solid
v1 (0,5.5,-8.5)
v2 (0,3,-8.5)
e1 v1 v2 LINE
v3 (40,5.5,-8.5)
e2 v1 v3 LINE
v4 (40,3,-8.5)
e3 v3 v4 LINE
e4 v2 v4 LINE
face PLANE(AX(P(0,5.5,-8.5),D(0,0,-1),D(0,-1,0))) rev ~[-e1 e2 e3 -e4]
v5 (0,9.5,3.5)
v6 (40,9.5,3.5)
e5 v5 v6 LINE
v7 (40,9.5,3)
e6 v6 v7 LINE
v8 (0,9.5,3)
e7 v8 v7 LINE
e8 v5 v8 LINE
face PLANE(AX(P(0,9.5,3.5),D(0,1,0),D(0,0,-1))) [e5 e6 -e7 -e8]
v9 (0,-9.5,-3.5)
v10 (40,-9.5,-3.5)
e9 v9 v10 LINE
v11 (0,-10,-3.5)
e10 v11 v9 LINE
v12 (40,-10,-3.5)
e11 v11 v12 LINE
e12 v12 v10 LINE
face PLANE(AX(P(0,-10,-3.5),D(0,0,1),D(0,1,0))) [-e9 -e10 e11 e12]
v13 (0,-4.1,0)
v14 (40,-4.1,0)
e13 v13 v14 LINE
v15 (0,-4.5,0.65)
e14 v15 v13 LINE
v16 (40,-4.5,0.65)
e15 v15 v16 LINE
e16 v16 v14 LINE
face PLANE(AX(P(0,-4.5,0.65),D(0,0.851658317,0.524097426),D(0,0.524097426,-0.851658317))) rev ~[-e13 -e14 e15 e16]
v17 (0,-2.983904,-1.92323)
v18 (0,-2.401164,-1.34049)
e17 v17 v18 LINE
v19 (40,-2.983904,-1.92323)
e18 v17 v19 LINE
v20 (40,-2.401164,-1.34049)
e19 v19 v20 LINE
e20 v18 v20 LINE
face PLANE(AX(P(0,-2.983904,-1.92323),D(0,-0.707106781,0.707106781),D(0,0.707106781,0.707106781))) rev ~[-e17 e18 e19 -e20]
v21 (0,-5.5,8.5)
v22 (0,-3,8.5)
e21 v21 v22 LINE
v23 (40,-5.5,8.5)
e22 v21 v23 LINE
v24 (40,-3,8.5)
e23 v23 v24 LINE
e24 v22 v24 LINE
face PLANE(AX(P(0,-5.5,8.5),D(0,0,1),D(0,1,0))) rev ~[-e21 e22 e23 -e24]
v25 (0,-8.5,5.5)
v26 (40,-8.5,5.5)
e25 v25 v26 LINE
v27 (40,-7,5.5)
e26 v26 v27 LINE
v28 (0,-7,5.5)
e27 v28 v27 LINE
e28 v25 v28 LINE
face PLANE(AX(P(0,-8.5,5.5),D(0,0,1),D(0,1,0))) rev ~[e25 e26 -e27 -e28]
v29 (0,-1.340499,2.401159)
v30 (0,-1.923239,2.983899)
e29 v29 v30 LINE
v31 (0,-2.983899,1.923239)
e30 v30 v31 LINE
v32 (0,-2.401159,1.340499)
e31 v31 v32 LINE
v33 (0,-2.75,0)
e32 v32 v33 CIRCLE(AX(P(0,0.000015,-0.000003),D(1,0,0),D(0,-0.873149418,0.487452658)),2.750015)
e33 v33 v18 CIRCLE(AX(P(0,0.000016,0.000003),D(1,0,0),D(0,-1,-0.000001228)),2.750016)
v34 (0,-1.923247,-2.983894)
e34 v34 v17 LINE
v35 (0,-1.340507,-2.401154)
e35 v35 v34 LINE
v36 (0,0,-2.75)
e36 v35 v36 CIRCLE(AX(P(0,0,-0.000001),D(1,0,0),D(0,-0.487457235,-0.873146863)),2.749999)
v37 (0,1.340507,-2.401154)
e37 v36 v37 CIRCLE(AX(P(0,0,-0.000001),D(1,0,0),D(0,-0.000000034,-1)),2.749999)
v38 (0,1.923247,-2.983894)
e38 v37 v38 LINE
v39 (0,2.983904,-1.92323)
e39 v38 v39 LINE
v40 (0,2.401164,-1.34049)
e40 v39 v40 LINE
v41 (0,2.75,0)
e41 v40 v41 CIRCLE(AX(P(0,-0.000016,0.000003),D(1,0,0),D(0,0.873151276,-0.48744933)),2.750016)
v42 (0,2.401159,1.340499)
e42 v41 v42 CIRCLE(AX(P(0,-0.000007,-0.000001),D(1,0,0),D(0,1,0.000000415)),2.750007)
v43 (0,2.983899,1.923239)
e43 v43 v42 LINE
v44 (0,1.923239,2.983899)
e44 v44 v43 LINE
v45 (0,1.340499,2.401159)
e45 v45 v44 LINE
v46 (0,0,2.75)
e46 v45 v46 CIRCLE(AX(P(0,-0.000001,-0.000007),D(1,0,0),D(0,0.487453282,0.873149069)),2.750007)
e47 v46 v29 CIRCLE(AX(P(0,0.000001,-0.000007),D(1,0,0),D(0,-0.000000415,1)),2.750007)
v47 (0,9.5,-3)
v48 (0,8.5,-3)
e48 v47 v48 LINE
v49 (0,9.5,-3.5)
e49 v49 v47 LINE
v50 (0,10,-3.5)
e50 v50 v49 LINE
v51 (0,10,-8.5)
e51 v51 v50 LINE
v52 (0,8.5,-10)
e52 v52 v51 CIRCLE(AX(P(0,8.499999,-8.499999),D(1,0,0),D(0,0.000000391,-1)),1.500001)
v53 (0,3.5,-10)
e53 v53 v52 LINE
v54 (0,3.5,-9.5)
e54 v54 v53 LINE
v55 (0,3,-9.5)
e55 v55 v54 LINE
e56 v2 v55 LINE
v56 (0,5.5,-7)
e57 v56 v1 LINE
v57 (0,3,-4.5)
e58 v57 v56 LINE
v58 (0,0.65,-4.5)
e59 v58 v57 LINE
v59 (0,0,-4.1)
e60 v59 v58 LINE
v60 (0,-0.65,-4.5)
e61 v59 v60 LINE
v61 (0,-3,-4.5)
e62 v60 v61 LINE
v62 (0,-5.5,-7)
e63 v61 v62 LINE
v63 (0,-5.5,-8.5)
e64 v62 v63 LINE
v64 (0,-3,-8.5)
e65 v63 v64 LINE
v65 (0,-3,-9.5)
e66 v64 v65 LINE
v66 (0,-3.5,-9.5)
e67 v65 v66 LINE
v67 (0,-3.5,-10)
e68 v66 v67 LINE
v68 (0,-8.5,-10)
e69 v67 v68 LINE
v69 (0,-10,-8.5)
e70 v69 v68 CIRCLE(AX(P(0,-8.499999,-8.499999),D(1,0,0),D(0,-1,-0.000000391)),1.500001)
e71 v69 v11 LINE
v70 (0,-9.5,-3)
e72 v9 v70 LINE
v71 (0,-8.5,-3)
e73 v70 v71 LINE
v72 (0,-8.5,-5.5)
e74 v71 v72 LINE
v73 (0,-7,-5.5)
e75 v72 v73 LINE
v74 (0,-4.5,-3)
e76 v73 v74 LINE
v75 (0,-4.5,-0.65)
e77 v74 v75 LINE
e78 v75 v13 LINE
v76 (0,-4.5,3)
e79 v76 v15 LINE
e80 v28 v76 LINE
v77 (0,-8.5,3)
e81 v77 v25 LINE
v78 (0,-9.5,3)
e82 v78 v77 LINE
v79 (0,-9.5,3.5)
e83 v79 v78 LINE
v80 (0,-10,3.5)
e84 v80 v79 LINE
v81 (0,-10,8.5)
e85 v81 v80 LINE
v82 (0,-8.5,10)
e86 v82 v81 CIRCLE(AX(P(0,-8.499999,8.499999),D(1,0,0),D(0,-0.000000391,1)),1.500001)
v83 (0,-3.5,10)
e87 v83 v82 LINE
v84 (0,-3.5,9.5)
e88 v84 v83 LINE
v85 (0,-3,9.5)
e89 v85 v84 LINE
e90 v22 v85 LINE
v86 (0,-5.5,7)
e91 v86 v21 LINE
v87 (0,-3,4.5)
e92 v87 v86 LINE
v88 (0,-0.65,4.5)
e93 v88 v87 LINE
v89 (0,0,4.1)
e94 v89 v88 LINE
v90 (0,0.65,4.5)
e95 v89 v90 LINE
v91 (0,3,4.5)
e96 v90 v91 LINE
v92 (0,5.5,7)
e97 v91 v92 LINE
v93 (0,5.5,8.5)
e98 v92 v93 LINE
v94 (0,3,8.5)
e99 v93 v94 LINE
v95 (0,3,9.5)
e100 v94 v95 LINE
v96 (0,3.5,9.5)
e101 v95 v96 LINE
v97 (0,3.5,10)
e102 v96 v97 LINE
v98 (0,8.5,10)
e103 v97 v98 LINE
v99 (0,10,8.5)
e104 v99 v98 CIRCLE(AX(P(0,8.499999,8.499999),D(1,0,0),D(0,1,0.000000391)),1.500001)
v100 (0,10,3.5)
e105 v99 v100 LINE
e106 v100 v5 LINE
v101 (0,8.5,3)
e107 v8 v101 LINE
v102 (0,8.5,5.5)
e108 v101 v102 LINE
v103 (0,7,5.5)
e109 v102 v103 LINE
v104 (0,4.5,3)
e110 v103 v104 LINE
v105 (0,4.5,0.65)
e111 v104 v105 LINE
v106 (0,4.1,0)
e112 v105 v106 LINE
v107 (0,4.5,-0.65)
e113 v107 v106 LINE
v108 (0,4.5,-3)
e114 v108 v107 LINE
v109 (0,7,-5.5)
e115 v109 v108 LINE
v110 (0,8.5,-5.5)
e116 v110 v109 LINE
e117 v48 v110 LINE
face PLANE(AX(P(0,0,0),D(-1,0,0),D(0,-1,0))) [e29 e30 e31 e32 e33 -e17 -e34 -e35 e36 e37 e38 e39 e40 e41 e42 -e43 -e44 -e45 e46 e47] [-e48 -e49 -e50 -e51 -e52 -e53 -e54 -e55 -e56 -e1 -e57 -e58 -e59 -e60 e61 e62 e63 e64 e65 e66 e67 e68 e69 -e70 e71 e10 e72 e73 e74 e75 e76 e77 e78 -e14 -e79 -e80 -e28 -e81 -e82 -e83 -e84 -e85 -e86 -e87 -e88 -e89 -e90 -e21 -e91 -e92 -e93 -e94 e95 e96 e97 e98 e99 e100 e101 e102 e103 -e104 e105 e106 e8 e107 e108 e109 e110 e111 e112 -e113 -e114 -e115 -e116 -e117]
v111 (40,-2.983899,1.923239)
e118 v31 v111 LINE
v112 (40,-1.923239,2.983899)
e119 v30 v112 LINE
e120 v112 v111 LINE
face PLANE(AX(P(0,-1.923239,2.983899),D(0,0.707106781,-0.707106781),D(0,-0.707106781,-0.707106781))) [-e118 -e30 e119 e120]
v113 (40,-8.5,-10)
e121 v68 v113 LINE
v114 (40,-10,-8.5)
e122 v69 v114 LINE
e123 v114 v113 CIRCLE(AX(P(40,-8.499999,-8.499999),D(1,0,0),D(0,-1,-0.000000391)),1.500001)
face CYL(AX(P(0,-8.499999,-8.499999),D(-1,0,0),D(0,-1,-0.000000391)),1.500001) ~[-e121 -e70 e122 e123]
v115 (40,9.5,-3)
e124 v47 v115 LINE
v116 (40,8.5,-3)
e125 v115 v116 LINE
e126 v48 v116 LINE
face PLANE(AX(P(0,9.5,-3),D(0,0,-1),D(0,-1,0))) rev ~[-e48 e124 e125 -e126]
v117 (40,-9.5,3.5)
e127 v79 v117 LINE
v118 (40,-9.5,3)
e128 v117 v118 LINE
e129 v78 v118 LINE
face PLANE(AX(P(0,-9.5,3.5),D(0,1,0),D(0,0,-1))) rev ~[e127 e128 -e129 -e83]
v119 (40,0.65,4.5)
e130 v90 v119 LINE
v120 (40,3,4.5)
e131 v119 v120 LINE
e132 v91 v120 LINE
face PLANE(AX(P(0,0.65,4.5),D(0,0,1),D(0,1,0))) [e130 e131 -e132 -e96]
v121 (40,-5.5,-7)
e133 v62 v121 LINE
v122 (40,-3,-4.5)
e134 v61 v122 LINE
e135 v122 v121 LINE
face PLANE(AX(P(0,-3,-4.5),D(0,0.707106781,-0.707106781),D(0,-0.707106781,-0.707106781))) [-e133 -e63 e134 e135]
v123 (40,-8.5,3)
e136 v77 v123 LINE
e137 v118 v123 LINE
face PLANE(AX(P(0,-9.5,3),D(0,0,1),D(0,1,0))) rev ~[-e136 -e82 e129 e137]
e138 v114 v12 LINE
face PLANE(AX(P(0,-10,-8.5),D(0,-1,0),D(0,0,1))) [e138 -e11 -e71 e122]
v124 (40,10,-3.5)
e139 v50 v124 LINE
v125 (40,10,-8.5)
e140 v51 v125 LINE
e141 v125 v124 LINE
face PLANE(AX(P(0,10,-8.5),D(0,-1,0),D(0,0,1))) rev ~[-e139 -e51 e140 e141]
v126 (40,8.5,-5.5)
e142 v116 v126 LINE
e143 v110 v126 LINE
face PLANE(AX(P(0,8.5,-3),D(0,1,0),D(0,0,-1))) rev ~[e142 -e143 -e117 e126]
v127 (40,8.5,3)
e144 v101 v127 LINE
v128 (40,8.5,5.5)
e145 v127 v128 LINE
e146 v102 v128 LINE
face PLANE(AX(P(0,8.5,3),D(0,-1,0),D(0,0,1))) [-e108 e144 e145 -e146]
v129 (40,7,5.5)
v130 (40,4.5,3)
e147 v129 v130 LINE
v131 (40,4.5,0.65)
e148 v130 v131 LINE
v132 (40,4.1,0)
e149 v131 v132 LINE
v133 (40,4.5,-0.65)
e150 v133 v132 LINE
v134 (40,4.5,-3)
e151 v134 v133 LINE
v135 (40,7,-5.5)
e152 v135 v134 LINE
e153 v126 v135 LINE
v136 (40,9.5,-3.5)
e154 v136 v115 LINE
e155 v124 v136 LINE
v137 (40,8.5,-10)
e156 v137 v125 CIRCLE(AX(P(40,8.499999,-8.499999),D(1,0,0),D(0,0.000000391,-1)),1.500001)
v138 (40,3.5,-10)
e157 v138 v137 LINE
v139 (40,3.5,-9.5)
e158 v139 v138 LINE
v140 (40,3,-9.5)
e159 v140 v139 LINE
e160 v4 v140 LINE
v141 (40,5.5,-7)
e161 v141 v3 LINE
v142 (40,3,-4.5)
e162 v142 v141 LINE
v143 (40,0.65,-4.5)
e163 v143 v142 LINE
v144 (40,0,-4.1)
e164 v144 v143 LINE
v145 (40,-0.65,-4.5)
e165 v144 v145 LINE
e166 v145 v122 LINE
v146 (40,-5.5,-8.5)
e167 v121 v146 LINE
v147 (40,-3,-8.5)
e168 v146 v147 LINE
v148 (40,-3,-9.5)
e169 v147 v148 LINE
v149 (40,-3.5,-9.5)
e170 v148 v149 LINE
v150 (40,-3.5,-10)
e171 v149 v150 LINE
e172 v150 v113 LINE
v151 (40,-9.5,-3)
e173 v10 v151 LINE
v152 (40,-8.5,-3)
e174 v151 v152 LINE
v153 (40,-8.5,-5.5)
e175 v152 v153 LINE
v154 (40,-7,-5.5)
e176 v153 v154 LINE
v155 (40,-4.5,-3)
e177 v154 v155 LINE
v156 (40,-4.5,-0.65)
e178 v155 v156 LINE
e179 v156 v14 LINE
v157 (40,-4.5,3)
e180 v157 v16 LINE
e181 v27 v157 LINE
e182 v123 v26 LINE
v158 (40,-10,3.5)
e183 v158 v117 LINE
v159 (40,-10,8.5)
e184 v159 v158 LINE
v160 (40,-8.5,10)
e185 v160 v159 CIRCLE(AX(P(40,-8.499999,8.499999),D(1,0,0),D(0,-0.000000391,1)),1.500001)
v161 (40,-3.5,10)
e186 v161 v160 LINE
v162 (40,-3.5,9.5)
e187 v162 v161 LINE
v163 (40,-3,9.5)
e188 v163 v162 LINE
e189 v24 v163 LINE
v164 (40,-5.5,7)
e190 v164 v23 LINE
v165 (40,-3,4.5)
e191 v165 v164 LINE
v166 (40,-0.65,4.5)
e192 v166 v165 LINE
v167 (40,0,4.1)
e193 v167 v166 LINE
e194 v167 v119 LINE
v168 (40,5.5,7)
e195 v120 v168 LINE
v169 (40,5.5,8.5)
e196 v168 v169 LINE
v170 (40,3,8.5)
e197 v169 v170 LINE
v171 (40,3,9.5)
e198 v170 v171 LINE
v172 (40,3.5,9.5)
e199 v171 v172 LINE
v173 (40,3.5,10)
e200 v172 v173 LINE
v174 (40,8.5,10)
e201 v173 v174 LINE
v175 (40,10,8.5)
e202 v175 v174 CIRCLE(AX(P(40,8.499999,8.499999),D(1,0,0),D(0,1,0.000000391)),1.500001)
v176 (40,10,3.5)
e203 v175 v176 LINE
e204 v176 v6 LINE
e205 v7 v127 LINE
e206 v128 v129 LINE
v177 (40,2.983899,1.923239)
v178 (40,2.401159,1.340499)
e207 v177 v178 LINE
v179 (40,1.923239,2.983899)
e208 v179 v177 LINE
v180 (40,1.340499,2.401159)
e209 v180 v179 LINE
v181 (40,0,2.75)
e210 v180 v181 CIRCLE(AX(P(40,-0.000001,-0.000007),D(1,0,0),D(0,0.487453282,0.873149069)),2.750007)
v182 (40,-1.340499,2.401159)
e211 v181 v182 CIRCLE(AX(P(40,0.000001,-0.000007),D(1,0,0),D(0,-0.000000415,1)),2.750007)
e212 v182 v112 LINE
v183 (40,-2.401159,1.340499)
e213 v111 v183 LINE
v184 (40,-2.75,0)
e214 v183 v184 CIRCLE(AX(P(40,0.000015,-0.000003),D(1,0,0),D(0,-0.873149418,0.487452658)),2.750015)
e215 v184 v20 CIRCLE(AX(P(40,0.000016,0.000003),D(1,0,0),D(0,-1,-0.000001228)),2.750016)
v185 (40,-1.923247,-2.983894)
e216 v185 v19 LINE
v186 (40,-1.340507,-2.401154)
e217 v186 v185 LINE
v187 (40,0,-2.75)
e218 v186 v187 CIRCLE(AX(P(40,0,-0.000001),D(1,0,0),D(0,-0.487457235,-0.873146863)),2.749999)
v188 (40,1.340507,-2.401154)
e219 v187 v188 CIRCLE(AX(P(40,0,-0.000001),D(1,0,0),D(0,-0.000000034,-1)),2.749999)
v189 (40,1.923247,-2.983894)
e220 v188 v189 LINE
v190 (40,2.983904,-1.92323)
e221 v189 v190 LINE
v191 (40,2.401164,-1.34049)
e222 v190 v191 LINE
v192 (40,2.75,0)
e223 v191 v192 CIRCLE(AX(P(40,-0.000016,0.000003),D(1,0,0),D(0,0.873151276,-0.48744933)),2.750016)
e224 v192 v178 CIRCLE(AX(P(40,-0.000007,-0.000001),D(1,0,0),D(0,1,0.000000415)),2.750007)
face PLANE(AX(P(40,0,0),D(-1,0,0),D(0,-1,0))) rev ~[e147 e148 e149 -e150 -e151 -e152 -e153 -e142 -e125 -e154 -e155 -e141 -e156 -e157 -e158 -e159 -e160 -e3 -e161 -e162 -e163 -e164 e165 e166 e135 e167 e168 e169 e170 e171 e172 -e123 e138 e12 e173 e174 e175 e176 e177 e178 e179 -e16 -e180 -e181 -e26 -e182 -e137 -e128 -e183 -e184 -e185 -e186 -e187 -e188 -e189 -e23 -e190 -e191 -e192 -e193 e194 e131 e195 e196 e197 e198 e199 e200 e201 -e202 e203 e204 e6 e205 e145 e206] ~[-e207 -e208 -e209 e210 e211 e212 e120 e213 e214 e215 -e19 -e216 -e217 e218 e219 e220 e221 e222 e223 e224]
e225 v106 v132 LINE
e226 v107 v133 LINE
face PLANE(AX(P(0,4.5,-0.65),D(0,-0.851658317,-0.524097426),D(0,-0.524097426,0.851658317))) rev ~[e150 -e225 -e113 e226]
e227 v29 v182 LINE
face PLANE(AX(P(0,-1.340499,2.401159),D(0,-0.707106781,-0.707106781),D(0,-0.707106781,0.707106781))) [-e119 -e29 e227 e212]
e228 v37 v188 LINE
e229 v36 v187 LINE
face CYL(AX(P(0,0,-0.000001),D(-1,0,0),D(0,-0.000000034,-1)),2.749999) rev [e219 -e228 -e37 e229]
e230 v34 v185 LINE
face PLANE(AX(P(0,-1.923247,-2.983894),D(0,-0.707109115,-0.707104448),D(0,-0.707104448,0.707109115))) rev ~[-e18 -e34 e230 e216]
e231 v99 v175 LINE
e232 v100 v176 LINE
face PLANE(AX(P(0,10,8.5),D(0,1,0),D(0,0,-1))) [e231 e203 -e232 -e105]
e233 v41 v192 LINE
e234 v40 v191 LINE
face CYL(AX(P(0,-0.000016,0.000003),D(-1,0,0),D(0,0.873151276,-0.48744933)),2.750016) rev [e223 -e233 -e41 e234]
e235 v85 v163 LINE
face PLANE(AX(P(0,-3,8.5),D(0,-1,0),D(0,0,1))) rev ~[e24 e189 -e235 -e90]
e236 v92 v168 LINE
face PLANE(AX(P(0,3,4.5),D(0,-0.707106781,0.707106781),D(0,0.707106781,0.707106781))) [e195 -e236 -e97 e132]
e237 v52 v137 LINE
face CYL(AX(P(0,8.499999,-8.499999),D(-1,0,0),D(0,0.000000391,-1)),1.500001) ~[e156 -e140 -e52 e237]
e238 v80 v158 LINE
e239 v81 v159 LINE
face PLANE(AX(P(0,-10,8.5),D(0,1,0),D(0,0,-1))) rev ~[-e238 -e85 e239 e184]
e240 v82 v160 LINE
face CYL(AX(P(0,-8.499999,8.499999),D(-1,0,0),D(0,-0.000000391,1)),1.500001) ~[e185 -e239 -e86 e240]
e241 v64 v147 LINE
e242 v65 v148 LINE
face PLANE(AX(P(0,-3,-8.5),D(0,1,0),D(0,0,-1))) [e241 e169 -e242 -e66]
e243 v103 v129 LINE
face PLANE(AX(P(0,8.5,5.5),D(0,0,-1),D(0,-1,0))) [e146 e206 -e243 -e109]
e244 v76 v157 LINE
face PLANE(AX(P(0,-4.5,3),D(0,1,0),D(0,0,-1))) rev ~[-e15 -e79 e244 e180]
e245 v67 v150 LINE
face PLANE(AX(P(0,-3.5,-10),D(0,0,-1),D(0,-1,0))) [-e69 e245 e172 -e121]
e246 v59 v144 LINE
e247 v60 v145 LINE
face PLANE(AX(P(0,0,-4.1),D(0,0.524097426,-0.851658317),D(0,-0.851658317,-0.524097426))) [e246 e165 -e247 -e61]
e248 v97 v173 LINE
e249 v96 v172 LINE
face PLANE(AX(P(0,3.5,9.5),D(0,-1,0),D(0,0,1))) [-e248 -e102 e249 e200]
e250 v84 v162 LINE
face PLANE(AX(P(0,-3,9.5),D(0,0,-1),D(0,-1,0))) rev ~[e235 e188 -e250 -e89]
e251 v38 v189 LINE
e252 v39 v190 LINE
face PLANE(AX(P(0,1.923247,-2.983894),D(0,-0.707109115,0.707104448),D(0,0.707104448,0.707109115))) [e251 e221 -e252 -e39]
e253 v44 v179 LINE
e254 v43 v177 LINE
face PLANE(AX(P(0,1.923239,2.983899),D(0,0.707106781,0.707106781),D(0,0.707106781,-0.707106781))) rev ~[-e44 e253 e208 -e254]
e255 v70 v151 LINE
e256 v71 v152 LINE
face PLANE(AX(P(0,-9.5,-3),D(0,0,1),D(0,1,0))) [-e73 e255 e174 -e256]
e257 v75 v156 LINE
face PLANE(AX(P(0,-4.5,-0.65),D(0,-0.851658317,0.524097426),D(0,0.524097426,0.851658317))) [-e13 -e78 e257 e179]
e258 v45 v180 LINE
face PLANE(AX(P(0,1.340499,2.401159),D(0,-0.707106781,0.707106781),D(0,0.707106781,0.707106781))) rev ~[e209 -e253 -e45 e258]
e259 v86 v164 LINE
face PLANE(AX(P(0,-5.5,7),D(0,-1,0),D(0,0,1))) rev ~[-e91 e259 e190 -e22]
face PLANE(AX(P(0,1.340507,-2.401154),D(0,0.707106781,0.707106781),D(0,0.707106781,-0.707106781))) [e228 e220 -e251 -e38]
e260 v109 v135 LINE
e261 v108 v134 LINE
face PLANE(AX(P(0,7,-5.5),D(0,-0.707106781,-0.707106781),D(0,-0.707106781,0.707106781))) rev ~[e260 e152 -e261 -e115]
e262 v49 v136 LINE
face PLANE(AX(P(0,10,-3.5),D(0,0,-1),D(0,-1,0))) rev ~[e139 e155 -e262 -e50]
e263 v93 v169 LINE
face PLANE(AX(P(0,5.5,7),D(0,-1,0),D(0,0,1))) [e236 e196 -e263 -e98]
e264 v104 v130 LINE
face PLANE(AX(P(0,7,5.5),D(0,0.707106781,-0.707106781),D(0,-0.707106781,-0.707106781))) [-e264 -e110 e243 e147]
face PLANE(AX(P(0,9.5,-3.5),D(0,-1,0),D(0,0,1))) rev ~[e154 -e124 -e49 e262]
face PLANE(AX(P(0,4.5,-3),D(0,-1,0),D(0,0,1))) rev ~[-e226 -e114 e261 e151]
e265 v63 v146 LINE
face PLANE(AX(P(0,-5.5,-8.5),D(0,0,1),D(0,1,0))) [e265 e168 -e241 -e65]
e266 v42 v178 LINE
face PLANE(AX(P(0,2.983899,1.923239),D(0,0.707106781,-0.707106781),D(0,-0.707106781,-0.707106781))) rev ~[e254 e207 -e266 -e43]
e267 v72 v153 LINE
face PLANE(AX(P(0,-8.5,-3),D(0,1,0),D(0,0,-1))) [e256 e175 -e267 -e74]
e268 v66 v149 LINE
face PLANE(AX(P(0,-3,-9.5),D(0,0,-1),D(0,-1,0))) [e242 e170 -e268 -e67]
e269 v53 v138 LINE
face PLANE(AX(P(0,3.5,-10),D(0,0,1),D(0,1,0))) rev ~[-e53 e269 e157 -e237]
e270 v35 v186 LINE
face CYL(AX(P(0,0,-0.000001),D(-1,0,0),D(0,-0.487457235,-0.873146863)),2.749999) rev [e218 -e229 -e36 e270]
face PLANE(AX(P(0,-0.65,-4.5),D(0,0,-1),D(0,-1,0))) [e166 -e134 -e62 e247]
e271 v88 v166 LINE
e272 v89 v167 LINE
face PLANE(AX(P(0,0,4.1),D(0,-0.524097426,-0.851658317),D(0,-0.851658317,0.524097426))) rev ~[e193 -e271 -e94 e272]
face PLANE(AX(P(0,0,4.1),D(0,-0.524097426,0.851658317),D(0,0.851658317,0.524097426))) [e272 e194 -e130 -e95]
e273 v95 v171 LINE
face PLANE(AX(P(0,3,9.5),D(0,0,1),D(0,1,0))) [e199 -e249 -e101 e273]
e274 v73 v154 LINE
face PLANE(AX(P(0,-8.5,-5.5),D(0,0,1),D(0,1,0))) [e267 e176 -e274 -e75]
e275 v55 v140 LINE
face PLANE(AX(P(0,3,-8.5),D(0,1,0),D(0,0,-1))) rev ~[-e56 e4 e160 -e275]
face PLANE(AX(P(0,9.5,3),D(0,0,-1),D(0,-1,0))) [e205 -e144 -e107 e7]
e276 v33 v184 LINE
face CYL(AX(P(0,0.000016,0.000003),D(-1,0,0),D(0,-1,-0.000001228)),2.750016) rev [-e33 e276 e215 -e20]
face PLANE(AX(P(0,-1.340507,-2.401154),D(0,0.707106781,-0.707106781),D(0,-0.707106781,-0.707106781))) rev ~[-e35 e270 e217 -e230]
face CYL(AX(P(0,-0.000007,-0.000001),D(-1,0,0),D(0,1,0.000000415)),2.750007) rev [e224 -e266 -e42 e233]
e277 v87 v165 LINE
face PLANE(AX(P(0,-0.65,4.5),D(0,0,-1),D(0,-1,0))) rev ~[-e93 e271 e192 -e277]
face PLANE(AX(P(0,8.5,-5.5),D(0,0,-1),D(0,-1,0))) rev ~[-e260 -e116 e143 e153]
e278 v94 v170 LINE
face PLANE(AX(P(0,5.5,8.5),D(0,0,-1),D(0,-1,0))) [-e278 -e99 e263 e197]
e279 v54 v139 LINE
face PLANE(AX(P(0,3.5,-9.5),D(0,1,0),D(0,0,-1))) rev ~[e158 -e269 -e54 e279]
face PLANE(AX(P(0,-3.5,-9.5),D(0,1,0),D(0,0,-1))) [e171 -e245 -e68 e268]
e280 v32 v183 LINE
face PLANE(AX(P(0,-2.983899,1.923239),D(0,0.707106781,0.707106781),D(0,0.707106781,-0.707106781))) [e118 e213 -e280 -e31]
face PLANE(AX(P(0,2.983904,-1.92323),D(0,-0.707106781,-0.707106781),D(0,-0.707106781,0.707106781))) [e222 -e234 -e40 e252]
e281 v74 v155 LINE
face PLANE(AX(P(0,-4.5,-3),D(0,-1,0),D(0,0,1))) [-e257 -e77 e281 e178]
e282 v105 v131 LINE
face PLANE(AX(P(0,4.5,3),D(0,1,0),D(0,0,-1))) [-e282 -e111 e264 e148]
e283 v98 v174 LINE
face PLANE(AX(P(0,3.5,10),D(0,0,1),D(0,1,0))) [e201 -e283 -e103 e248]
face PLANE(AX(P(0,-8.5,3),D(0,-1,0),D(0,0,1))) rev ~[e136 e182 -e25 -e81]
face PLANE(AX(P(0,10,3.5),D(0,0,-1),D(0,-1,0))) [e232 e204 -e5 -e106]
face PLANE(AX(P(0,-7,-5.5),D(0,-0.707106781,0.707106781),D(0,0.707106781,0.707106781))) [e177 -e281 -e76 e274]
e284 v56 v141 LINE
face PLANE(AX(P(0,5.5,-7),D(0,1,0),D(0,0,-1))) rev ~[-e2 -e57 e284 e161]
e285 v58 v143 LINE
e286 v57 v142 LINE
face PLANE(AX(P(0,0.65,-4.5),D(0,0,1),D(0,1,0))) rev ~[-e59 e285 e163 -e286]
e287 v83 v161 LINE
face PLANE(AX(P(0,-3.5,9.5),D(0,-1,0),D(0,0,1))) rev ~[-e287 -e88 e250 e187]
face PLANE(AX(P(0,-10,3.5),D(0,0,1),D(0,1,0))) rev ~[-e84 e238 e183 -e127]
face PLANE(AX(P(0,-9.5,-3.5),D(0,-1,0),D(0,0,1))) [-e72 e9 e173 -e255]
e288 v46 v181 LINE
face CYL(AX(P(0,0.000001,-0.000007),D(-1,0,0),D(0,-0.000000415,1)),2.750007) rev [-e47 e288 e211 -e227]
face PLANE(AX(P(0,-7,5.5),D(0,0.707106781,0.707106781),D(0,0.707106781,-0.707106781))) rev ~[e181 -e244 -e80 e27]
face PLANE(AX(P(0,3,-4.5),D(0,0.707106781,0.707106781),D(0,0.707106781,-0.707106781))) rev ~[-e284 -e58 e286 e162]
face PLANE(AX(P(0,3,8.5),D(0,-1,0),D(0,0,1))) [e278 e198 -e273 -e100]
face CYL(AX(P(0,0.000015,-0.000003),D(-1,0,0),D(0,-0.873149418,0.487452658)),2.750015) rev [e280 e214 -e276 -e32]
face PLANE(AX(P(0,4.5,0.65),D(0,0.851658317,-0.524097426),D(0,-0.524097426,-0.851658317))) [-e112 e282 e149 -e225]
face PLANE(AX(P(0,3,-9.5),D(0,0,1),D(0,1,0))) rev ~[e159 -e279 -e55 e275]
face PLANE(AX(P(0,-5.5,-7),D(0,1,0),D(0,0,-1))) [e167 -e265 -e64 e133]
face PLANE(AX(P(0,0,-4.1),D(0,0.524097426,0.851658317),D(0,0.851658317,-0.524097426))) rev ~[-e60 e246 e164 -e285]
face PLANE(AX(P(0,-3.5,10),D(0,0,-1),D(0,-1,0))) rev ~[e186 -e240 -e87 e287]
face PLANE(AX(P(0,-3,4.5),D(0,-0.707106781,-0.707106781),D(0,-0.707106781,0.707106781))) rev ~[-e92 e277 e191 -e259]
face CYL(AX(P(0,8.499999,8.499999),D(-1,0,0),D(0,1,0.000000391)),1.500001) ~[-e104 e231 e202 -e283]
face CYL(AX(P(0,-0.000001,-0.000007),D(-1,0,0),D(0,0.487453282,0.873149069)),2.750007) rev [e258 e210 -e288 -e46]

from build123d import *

# Parameters (mm, degrees)
PAD_DEPTH = 40


with BuildPart() as part:
    # Sketch → Pad (new body)
    with BuildSketch(Plane.YZ):
        with BuildLine():
            Line((0, 4.1), (0.65, 4.5))
            Line((0.65, 4.5), (3, 4.5))
            Line((3, 4.5), (5.5, 7))
            Line((5.5, 7), (5.5, 8.5))
            Line((5.5, 8.5), (3, 8.5))
            Line((3, 8.5), (3, 9.5))
            Line((3, 9.5), (3.5, 9.5))
            Line((3.5, 9.5), (3.5, 10))
            Line((3.5, 10), (8.5, 10))
            ThreePointArc((10, 8.5), (9.56066, 9.56066), (8.5, 10))
            Line((10, 8.5), (10, 3.5))
            Line((10, 3.5), (9.5, 3.5))
            Line((9.5, 3.5), (9.5, 3))
            Line((9.5, 3), (8.5, 3))
            Line((8.5, 3), (8.5, 5.5))
            Line((8.5, 5.5), (7, 5.5))
            Line((7, 5.5), (4.5, 3))
            Line((4.5, 3), (4.5, 0.65))
            Line((4.5, 0.65), (4.1, 0))
            Line((4.5, -0.65), (4.1, 0))
            Line((4.5, -3), (4.5, -0.65))
            Line((7, -5.5), (4.5, -3))
            Line((8.5, -5.5), (7, -5.5))
            Line((8.5, -3), (8.5, -5.5))
            Line((9.5, -3), (8.5, -3))
            Line((9.5, -3.5), (9.5, -3))
            Line((10, -3.5), (9.5, -3.5))
            Line((10, -8.5), (10, -3.5))
            ThreePointArc((8.5, -10), (9.56066, -9.56066), (10, -8.5))
            Line((3.5, -10), (8.5, -10))
            Line((3.5, -9.5), (3.5, -10))
            Line((3, -9.5), (3.5, -9.5))
            Line((3, -8.5), (3, -9.5))
            Line((5.5, -8.5), (3, -8.5))
            Line((5.5, -7), (5.5, -8.5))
            Line((3, -4.5), (5.5, -7))
            Line((0.65, -4.5), (3, -4.5))
            Line((0, -4.1), (0.65, -4.5))
            Line((0, -4.1), (-0.65, -4.5))
            Line((-0.65, -4.5), (-3, -4.5))
            Line((-3, -4.5), (-5.5, -7))
            Line((-5.5, -7), (-5.5, -8.5))
            Line((-5.5, -8.5), (-3, -8.5))
            Line((-3, -8.5), (-3, -9.5))
            Line((-3, -9.5), (-3.5, -9.5))
            Line((-3.5, -9.5), (-3.5, -10))
            Line((-3.5, -10), (-8.5, -10))
            ThreePointArc((-10, -8.5), (-9.56066, -9.56066), (-8.5, -10))
            Line((-10, -8.5), (-10, -3.5))
            Line((-10, -3.5), (-9.5, -3.5))
            Line((-9.5, -3.5), (-9.5, -3))
            Line((-9.5, -3), (-8.5, -3))
            Line((-8.5, -3), (-8.5, -5.5))
            Line((-8.5, -5.5), (-7, -5.5))
            Line((-7, -5.5), (-4.5, -3))
            Line((-4.5, -3), (-4.5, -0.65))
            Line((-4.5, -0.65), (-4.1, 0))
            Line((-4.5, 0.65), (-4.1, 0))
            Line((-4.5, 3), (-4.5, 0.65))
            Line((-7, 5.5), (-4.5, 3))
            Line((-8.5, 5.5), (-7, 5.5))
            Line((-8.5, 3), (-8.5, 5.5))
            Line((-9.5, 3), (-8.5, 3))
            Line((-9.5, 3.5), (-9.5, 3))
            Line((-10, 3.5), (-9.5, 3.5))
            Line((-10, 8.5), (-10, 3.5))
            ThreePointArc((-8.5, 10), (-9.56066, 9.56066), (-10, 8.5))
            Line((-3.5, 10), (-8.5, 10))
            Line((-3.5, 9.5), (-3.5, 10))
            Line((-3, 9.5), (-3.5, 9.5))
            Line((-3, 8.5), (-3, 9.5))
            Line((-5.5, 8.5), (-3, 8.5))
            Line((-5.5, 7), (-5.5, 8.5))
            Line((-3, 4.5), (-5.5, 7))
            Line((-0.65, 4.5), (-3, 4.5))
            Line((0, 4.1), (-0.65, 4.5))
        make_face()
        with BuildLine():
            Line((1.340499, 2.401159), (1.923239, 2.983899))
            Line((1.923239, 2.983899), (2.983899, 1.923239))
            Line((2.983899, 1.923239), (2.401159, 1.340499))
            ThreePointArc((2.75, 0), (2.661361, 0.692573), (2.401159, 1.340499))
            ThreePointArc((2.401164, -1.34049), (2.661362, -0.692568), (2.75, 0))
            Line((2.983904, -1.92323), (2.401164, -1.34049))
            Line((1.923247, -2.983894), (2.983904, -1.92323))
            Line((1.340507, -2.401154), (1.923247, -2.983894))
            ThreePointArc((0, -2.75), (0.692577, -2.66136), (1.340507, -2.401154))
            ThreePointArc((-1.340507, -2.401154), (-0.692577, -2.66136), (0, -2.75))
            Line((-1.340507, -2.401154), (-1.923247, -2.983894))
            Line((-1.923247, -2.983894), (-2.983904, -1.92323))
            Line((-2.983904, -1.92323), (-2.401164, -1.34049))
            ThreePointArc((-2.75, 0), (-2.661362, -0.692568), (-2.401164, -1.34049))
            ThreePointArc((-2.401159, 1.340499), (-2.661361, 0.692572), (-2.75, 0))
            Line((-2.983899, 1.923239), (-2.401159, 1.340499))
            Line((-1.923239, 2.983899), (-2.983899, 1.923239))
            Line((-1.340499, 2.401159), (-1.923239, 2.983899))
            ThreePointArc((0, 2.75), (-0.692573, 2.661361), (-1.340499, 2.401159))
            ThreePointArc((1.340499, 2.401159), (0.692573, 2.661361), (0, 2.75))
        make_face(mode=Mode.SUBTRACT)
    extrude(amount=PAD_DEPTH)


solid = part.part
